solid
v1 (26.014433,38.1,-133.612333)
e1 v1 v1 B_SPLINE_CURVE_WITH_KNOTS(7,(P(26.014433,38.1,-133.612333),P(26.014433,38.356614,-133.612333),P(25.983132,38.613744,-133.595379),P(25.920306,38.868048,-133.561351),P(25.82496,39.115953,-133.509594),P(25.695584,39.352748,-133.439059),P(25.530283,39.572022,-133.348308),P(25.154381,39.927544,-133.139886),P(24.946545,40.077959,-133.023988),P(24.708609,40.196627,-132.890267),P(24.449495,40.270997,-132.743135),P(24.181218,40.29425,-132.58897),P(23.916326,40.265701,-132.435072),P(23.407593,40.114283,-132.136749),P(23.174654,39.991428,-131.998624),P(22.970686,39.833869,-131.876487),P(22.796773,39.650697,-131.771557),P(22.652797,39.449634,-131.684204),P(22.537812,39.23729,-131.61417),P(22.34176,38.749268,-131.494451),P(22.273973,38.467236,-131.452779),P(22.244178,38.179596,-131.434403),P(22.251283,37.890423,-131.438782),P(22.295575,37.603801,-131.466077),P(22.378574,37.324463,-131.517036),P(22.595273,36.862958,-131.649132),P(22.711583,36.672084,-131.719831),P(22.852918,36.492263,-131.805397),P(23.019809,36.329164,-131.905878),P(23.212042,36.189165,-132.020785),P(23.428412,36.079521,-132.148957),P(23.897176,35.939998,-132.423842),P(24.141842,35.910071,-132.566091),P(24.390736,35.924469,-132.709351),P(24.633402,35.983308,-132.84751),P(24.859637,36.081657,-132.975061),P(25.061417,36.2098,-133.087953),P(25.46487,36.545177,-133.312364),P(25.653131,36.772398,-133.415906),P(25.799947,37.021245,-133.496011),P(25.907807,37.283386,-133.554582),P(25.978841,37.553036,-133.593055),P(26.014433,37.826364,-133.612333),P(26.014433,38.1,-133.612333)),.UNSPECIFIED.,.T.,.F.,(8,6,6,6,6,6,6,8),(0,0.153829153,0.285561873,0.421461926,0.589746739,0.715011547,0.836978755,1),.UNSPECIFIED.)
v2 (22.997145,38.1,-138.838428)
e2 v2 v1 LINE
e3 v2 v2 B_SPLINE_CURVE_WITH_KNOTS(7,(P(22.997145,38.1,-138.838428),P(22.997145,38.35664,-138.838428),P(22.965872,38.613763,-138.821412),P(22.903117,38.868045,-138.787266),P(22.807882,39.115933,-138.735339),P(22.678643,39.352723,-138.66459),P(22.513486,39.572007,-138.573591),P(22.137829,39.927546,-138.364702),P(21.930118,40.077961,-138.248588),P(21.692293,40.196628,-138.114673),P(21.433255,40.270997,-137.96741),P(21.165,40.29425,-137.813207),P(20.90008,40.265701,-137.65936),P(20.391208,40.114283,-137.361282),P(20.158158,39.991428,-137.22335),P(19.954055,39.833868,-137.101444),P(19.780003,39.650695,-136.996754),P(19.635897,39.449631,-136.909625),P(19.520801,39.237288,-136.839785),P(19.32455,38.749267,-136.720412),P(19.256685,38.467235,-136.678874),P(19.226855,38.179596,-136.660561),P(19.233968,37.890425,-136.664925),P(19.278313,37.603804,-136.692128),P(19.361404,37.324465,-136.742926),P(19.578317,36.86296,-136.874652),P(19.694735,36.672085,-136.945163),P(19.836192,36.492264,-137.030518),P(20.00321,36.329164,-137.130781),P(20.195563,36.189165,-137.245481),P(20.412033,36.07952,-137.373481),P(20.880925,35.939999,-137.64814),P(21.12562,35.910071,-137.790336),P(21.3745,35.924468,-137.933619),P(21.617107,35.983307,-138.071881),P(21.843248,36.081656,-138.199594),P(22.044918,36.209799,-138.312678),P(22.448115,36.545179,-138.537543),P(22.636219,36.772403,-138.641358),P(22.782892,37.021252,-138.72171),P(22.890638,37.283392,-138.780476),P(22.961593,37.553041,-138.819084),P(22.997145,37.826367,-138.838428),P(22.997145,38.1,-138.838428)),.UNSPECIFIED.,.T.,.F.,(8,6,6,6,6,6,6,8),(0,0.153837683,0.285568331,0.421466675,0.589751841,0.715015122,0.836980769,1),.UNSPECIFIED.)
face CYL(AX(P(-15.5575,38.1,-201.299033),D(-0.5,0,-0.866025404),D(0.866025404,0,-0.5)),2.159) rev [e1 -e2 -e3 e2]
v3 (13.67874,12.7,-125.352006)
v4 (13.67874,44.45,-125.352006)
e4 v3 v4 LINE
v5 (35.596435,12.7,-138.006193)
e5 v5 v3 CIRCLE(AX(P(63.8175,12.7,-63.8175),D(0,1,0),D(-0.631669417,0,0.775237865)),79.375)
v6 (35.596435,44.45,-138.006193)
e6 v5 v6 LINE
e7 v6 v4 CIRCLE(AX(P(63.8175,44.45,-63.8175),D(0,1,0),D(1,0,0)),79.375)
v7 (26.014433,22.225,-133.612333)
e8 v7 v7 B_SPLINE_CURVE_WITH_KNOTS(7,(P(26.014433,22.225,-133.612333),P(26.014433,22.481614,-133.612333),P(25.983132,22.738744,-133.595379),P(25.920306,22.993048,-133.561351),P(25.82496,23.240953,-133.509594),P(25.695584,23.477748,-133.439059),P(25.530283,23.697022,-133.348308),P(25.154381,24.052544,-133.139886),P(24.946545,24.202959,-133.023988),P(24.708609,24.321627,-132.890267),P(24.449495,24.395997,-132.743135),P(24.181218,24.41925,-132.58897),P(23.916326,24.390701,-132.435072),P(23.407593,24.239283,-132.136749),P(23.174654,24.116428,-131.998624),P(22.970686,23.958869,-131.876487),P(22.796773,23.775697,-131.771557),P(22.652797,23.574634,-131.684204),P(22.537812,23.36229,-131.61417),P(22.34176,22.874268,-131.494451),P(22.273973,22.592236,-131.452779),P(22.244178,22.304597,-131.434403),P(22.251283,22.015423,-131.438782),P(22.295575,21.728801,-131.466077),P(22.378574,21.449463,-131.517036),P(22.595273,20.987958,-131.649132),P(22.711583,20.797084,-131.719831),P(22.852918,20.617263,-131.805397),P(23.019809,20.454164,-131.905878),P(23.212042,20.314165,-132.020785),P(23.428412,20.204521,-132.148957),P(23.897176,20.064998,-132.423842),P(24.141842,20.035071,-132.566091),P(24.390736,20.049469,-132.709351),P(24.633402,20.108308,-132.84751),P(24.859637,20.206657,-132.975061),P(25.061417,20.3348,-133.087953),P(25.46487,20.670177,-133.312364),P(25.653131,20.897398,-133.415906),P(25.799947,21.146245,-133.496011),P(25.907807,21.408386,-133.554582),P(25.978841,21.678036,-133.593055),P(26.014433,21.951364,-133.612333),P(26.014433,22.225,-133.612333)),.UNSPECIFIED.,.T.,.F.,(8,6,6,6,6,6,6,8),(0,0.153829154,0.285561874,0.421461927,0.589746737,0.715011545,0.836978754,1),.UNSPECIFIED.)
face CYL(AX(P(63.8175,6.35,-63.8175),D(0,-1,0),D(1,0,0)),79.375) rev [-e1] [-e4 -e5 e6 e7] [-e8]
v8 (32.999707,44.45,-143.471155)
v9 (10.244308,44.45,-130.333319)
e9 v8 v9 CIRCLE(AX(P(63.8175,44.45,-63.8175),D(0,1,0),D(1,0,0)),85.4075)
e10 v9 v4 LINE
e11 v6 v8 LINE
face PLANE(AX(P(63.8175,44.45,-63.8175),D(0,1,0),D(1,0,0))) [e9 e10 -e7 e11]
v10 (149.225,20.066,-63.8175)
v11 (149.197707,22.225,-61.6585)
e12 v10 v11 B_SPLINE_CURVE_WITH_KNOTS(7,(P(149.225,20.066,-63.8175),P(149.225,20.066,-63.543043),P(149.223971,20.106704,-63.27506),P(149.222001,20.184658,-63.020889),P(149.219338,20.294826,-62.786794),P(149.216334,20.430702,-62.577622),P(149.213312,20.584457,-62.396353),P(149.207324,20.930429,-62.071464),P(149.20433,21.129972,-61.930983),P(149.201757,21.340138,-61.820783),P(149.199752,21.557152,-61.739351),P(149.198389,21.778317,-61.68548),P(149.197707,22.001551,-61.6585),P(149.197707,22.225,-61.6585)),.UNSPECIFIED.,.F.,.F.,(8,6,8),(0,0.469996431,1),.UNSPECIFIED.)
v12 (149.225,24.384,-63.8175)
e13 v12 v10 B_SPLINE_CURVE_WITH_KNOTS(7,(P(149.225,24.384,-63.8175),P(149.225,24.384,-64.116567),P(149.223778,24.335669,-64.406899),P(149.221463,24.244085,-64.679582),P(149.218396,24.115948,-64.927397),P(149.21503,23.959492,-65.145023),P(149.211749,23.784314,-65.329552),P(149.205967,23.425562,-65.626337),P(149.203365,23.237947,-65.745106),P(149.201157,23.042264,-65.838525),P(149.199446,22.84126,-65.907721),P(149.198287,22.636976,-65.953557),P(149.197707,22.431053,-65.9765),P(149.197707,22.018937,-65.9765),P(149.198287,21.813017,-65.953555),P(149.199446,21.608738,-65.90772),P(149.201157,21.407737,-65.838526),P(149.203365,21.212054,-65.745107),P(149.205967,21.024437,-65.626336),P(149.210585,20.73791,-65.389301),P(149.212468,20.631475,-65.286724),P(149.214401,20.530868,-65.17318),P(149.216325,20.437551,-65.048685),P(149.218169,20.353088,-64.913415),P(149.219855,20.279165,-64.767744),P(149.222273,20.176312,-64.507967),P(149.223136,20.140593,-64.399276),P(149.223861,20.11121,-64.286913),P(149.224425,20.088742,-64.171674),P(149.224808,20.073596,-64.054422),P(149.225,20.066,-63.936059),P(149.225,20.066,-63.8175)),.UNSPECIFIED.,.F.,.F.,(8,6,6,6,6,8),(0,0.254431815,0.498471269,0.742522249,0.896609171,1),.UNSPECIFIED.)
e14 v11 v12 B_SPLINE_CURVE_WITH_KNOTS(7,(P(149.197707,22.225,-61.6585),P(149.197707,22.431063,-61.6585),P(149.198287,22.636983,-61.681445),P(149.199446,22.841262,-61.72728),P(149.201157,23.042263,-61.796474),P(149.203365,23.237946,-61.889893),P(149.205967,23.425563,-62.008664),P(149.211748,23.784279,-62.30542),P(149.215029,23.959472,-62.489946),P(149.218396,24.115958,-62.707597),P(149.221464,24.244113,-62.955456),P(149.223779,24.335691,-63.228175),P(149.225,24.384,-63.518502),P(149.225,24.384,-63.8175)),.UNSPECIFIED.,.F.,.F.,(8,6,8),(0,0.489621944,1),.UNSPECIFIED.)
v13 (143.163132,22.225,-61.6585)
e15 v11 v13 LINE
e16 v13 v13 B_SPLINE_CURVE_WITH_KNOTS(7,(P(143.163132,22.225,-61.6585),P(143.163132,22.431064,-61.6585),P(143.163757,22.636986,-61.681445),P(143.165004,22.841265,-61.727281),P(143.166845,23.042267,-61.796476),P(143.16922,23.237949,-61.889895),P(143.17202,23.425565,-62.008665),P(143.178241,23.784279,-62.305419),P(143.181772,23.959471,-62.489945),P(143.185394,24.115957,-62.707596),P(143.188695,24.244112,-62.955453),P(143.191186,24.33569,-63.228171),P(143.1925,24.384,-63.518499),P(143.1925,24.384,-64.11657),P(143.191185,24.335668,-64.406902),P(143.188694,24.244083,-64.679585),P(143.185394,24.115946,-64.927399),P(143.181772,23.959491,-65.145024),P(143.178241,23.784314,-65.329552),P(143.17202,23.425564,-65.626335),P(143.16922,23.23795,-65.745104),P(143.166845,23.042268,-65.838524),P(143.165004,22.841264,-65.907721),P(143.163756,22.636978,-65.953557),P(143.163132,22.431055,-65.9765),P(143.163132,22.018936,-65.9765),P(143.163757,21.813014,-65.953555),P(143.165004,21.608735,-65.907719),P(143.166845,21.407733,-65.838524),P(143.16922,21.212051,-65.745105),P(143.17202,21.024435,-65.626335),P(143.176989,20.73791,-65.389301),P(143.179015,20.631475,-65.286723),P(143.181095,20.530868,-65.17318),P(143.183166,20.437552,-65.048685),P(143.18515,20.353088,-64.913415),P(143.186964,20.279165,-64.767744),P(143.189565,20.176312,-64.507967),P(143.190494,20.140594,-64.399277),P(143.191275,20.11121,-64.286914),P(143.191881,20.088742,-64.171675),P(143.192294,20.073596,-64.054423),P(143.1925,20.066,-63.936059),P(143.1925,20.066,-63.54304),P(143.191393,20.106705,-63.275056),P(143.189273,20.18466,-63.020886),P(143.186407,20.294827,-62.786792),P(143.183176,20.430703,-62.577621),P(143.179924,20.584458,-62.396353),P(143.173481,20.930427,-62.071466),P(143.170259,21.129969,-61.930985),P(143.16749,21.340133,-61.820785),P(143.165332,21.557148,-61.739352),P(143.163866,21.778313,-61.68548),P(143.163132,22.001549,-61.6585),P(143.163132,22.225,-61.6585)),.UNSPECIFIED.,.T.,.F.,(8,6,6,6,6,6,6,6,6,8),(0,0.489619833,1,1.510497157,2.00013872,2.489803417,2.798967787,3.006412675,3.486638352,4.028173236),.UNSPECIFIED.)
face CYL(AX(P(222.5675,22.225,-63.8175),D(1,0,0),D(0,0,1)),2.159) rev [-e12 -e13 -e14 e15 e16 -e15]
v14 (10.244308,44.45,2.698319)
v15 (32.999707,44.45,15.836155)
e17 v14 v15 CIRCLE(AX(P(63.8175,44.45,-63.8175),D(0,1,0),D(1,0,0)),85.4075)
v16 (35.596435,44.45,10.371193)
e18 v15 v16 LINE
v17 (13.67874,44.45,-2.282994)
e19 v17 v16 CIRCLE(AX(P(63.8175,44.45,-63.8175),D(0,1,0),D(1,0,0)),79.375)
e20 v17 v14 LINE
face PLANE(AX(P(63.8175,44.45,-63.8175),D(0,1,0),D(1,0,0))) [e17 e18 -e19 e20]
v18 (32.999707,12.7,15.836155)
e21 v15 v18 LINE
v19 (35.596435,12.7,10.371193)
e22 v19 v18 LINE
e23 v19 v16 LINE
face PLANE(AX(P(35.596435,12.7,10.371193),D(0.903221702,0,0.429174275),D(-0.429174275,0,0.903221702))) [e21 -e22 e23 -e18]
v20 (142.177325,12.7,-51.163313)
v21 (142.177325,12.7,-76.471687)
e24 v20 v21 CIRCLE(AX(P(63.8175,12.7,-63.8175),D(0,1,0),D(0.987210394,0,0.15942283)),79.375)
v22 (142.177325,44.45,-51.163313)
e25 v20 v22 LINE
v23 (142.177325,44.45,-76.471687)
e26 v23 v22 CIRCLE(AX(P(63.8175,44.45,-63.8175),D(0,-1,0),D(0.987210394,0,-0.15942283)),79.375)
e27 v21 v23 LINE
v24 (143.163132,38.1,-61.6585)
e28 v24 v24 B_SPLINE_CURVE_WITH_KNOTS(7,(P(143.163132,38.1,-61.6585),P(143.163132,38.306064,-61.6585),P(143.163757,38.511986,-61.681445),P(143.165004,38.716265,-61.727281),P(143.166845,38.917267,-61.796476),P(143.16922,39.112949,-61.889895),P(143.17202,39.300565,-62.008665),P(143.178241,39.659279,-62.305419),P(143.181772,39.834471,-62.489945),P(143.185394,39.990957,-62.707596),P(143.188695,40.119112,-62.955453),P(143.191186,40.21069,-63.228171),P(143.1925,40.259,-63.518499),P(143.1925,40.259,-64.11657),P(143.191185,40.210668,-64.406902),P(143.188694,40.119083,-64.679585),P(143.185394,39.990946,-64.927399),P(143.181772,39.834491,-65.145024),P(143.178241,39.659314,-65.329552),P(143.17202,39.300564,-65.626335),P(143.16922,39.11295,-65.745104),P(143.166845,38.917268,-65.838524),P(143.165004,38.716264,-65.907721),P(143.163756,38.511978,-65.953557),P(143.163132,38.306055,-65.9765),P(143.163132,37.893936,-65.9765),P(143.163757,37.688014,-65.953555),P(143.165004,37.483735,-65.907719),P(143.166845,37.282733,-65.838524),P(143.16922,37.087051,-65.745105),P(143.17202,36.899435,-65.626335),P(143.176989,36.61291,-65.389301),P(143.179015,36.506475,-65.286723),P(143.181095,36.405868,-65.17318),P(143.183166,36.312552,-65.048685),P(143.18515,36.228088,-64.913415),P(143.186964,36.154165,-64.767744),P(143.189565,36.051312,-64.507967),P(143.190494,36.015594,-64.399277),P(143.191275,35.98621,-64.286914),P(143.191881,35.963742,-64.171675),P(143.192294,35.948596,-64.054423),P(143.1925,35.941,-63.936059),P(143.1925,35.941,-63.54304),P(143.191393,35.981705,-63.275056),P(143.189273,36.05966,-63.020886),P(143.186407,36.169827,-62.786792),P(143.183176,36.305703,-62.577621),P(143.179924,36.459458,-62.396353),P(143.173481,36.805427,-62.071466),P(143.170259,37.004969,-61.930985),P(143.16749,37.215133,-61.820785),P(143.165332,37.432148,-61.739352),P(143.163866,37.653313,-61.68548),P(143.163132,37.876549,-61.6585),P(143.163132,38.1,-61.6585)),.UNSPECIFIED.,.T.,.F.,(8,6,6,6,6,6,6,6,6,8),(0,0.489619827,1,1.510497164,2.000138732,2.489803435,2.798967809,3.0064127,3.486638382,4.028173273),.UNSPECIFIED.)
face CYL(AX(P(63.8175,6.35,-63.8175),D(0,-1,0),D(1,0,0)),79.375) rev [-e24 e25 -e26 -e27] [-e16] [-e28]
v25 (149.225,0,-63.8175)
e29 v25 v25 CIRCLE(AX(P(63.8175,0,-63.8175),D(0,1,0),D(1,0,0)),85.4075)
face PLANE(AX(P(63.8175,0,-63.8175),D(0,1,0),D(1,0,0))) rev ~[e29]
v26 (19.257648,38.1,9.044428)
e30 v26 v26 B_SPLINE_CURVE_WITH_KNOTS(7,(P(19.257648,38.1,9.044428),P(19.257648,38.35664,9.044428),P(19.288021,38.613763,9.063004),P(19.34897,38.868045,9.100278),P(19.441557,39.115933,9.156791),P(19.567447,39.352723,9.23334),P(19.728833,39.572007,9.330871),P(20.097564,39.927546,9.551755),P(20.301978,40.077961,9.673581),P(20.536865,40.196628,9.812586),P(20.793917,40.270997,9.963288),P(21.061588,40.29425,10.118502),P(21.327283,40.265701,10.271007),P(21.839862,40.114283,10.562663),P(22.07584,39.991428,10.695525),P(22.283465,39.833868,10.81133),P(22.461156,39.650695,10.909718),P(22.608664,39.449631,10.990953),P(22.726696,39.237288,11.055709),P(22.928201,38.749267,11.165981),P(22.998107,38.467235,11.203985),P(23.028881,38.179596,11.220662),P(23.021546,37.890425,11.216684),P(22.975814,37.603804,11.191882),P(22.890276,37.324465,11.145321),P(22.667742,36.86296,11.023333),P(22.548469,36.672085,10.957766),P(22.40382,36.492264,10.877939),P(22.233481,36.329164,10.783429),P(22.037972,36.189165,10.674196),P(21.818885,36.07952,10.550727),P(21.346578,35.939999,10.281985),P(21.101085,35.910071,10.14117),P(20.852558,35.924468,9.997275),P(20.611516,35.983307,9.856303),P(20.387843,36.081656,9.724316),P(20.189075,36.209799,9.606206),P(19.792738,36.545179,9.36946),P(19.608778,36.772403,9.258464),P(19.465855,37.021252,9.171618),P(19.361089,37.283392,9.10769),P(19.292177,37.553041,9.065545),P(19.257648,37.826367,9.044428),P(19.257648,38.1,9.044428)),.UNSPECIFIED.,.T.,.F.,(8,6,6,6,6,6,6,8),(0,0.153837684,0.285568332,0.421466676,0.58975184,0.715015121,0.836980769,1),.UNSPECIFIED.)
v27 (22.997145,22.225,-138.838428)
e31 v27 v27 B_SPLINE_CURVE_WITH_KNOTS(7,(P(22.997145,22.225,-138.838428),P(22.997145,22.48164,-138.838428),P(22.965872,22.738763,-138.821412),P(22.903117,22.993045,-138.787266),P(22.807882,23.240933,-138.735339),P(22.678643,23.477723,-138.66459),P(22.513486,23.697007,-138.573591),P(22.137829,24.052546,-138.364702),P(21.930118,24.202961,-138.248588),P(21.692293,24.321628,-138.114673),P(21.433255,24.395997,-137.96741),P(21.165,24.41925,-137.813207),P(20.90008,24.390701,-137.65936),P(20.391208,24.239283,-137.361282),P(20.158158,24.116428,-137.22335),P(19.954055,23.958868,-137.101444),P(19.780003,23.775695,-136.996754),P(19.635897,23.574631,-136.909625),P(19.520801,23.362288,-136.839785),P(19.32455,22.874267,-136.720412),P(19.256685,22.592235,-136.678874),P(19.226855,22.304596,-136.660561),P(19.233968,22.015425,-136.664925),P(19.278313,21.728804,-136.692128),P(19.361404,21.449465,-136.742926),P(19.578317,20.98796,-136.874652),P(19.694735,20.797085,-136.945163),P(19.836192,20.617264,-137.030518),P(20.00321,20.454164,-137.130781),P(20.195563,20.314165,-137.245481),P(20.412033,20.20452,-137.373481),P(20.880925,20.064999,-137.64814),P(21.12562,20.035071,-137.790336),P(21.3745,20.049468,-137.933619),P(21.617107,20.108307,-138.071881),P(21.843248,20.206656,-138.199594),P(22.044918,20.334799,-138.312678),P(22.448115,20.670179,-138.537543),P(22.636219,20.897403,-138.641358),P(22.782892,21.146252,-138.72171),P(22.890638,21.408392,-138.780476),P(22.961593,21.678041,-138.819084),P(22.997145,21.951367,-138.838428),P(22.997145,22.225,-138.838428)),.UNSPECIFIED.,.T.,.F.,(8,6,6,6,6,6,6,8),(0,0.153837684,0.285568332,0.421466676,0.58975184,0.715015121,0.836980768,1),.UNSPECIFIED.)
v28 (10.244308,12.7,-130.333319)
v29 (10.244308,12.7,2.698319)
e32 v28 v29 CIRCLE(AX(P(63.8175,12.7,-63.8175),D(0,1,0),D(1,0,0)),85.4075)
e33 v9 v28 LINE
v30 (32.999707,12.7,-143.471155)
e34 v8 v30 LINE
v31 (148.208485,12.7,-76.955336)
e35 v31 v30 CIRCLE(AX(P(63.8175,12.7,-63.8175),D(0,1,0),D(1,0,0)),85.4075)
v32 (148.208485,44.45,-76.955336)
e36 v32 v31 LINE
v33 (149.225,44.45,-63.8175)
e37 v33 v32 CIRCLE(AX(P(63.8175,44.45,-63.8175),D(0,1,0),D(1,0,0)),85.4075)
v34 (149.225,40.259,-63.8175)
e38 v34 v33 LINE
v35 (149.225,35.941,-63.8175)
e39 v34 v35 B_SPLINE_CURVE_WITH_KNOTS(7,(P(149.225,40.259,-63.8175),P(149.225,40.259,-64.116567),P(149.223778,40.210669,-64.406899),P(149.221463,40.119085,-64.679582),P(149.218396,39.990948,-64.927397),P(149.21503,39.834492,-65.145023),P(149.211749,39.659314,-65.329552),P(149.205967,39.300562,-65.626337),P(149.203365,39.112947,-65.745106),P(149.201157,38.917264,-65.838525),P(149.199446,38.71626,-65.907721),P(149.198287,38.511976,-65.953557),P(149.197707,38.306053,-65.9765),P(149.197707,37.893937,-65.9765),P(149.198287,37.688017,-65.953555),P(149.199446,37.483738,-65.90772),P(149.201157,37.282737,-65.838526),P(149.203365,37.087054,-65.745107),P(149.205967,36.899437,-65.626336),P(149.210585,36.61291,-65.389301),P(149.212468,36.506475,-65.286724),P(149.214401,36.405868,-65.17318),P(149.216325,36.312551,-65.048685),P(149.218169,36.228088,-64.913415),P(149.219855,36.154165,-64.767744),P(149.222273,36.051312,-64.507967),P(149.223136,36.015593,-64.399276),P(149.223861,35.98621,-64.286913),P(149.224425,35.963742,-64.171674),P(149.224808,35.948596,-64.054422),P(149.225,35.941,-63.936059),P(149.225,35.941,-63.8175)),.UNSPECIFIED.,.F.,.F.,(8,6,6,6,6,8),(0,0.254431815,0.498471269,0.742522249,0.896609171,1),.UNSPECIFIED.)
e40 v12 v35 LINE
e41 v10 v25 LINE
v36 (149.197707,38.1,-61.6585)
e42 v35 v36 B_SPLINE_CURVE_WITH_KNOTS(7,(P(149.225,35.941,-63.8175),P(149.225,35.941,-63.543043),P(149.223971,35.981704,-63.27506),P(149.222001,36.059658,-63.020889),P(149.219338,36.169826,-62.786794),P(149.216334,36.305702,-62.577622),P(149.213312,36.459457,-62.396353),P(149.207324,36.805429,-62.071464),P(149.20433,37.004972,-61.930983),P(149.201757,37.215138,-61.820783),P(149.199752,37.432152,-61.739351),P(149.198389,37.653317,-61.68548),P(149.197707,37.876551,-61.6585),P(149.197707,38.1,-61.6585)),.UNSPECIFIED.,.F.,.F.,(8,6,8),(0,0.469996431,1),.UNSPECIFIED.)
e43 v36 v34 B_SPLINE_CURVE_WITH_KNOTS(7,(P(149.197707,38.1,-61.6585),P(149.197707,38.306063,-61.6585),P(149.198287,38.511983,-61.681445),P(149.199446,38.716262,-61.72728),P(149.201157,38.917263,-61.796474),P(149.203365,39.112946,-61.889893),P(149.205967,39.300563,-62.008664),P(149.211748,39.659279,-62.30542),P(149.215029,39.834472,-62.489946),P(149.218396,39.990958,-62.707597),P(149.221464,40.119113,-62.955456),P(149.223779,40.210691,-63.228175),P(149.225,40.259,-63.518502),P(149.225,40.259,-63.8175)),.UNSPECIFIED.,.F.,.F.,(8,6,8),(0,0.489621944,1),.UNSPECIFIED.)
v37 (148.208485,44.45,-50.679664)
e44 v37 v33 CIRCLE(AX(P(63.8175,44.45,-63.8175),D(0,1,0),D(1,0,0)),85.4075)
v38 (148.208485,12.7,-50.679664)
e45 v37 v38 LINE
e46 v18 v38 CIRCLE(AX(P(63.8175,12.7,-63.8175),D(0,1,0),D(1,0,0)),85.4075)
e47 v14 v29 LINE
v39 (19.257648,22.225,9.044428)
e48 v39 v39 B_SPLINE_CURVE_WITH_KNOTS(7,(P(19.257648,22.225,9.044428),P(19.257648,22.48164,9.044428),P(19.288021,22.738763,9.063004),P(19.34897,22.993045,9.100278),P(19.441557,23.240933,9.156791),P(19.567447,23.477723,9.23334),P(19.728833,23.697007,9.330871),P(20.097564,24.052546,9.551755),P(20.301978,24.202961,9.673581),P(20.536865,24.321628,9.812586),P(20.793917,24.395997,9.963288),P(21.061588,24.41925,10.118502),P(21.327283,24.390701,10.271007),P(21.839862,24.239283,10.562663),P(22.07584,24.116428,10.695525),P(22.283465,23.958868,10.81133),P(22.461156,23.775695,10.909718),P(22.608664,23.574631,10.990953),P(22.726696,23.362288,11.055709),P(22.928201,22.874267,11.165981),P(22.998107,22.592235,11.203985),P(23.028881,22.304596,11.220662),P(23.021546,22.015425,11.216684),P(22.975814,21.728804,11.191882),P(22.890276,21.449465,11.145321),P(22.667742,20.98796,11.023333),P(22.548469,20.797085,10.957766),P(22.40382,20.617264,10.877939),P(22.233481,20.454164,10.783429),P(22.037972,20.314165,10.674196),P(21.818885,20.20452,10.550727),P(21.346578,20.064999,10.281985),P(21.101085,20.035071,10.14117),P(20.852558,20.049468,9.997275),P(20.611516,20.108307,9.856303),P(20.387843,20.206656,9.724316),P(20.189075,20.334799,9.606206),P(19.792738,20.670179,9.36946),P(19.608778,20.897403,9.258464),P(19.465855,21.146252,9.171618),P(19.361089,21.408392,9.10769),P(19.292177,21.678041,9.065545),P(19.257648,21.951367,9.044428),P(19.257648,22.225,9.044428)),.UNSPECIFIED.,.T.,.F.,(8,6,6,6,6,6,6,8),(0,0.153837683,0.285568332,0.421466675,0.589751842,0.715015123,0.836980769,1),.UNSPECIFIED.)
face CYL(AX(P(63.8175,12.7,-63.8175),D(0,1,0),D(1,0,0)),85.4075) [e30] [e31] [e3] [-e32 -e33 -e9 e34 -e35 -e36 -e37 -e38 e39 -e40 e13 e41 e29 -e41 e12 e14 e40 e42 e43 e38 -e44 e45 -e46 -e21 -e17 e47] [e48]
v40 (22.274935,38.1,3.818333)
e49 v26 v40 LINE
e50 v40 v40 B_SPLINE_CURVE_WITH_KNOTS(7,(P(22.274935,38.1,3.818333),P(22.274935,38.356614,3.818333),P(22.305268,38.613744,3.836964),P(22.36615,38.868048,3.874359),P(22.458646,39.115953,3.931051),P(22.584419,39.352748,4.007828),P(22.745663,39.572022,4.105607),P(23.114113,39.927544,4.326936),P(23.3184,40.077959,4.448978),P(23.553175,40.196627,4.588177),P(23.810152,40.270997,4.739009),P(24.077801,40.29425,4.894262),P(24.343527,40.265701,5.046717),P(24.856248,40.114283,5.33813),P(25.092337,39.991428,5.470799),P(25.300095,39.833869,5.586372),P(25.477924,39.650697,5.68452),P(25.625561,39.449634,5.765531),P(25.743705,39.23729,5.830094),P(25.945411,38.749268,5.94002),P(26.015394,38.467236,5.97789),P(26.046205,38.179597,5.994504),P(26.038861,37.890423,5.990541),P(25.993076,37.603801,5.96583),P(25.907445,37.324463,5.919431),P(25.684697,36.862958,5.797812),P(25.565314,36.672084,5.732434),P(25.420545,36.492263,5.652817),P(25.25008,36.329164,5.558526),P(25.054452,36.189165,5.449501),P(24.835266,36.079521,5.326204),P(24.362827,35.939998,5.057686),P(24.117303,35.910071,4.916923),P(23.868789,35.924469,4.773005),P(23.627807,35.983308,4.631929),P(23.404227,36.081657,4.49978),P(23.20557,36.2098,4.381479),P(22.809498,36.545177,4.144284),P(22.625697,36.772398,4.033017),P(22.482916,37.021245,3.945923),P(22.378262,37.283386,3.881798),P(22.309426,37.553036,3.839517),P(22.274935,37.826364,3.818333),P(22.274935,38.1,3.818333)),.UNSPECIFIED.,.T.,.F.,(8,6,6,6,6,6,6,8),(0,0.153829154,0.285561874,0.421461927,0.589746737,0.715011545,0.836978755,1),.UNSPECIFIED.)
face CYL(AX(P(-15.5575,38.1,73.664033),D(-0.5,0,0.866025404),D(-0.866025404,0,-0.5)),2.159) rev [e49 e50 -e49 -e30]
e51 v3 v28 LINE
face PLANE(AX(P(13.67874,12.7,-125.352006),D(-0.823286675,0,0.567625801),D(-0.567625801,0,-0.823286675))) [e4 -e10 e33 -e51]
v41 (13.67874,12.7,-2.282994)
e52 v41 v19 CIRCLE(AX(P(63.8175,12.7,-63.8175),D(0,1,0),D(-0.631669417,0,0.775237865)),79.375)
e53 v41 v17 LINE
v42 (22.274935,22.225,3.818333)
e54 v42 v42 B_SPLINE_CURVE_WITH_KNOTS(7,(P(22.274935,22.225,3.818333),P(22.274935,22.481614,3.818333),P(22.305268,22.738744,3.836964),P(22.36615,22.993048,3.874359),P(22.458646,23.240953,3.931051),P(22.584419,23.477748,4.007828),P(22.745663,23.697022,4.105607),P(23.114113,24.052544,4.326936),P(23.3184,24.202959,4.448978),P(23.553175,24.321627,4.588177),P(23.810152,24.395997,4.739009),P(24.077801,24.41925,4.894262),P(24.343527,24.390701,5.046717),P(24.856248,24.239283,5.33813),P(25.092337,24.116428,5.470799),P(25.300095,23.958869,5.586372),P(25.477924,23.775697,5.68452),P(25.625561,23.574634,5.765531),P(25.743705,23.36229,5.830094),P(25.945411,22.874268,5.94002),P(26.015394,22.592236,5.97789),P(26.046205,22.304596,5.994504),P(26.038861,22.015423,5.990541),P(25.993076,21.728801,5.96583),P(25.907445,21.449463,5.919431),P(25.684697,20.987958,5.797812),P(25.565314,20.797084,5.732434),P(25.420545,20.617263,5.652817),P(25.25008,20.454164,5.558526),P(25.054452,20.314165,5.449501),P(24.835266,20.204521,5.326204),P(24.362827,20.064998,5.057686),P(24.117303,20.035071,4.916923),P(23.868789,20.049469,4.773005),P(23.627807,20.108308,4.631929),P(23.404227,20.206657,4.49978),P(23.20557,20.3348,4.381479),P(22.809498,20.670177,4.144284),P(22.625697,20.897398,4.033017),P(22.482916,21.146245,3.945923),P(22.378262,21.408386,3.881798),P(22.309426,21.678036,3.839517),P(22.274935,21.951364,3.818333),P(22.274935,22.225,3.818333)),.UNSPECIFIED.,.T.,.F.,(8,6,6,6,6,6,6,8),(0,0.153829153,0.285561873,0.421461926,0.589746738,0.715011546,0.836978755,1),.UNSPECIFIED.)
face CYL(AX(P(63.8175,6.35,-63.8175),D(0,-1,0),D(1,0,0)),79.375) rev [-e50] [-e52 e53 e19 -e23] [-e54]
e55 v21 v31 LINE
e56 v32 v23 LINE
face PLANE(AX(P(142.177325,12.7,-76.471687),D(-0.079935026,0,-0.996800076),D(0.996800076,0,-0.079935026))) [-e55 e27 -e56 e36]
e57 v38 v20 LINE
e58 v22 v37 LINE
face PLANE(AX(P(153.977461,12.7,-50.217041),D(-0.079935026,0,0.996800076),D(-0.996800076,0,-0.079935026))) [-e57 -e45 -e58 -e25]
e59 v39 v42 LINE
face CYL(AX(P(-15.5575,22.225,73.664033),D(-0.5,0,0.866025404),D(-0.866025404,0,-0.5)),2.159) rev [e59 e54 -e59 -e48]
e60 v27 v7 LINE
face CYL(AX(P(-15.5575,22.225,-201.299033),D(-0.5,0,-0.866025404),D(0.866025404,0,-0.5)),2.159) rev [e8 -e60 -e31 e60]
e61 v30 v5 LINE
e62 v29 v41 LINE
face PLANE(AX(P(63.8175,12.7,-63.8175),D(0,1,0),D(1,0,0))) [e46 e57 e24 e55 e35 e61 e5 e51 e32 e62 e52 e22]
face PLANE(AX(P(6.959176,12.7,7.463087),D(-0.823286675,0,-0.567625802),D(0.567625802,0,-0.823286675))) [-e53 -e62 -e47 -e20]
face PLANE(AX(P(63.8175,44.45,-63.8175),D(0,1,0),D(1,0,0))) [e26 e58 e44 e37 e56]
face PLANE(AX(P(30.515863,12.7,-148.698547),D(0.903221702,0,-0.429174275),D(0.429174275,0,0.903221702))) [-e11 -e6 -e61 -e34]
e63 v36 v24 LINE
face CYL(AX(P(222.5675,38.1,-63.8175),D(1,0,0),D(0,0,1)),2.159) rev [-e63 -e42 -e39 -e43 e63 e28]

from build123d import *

# Parameters (mm, degrees)
SKETCH1_W           = 127.635
SKETCH1_H           = 127.635
MAIN_PLATE_DEPTH    = 12.7
SKETCH9_R           = 85.725
BOSS_EXTRUDE1_DEPTH = 12.7
SKETCH10_R          = 95.25
SKETCH10_R_2        = 85.4075
CUT_EXTRUDE1_DEPTH  = 167.64
SKETCH18_R          = 85.4075
SKETCH18_R_2        = 79.375
BOSS_EXTRUDE2_DEPTH = 38.1
SKETCH15_R          = 2.159
CUT_EXTRUDE3_DEPTH  = 88.9
CIRPATTERN1_COUNT   = 3
SKETCH23_R          = 79.375
CUT_EXTRUDE6_DEPTH  = 111.600000066


with BuildPart() as part:
    # Sketch1 → Main Plate (new body)
    with BuildSketch(Plane(origin=(0, 0, 0), x_dir=(1, 0, 0), z_dir=(0, 1, 0))):
        with Locations((63.8175, 63.8175)):
            Rectangle(SKETCH1_W, SKETCH1_H)
    extrude(amount=MAIN_PLATE_DEPTH)

    # Sketch9 → Boss-Extrude1 (add)
    with BuildSketch(Plane(origin=(0, 12.7, 0), x_dir=(1, 0, 0), z_dir=(0, 1, 0))):
        with Locations((63.8175, 63.8175)):
            Circle(SKETCH9_R)
    extrude(amount=-BOSS_EXTRUDE1_DEPTH)

    # Sketch10 → Cut-Extrude1 (cut)
    with BuildSketch(Plane(origin=(0, 12.7, 0), x_dir=(1, 0, 0), z_dir=(0, 1, 0))):
        with Locations((63.8175, 63.8175)):
            Circle(SKETCH10_R)
        with Locations((63.8175, 63.8175)):
            Circle(SKETCH10_R_2, mode=Mode.SUBTRACT)
    extrude(amount=-CUT_EXTRUDE1_DEPTH, mode=Mode.SUBTRACT)

    # Sketch18 → Boss-Extrude2 (add)
    with BuildSketch(Plane(origin=(0, 6.35, 0), x_dir=(1, 0, 0), z_dir=(0, 1, 0))):
        with Locations((63.8175, 63.8175)):
            Circle(SKETCH18_R)
        with Locations((63.8175, 63.8175)):
            Circle(SKETCH18_R_2, mode=Mode.SUBTRACT)
    extrude(amount=BOSS_EXTRUDE2_DEPTH)

    # Sketch15 → Cut-Extrude3 (cut)
    with BuildSketch(Plane(origin=(166.221610148, 0, 178.614251028), x_dir=(-0.866025404, 0, -0.5), z_dir=(0.5, 0, -0.866025404))):
        with Locations((209.900436354, 22.225)):
            Circle(SKETCH15_R)
        with Locations((209.900436354, 38.1)):
            Circle(SKETCH15_R)
    cut_extrude3 = extrude(amount=CUT_EXTRUDE3_DEPTH, mode=Mode.SUBTRACT)

    # CirPattern1: Cut-Extrude3 ×3 about axis
    cirpattern1_axis = Axis((63.8175, -154.94, -63.8175), (0, 1, 0))
    for i in range(1, CIRPATTERN1_COUNT):
        add(cut_extrude3.rotate(cirpattern1_axis, i * 360 / CIRPATTERN1_COUNT), mode=Mode.SUBTRACT)

    # Sketch23 → Cut-Extrude6 (cut)
    with BuildSketch(Plane(origin=(0, 12.7, 0), x_dir=(1, 0, 0), z_dir=(0, 1, 0))):
        with Locations((63.8175, 63.8175)):
            Circle(SKETCH23_R)
        with BuildLine():
            Line((13.678739997, 125.352005526), (7.552270878, 134.237860218))
            Line((7.552270878, 134.237860218), (-19.267108419, 125.320629884))
            Line((-19.267108419, 125.320629884), (-48.79695837, 60.397770071))
            Line((-48.79695837, 60.397770071), (-9.884344094, 7.052469015))
            Line((-9.884344094, 7.052469015), (6.959175986, -7.46308736))
            Line((6.959175986, -7.46308736), (13.678739997, 2.282994474))
            ThreePointArc((13.678739997, 2.282994474), (-15.5575, 63.8175), (13.678739997, 125.352005526))
        make_face()
        with BuildLine():
            Line((142.177324996, 76.471687114), (152.935935453, 77.334437661))
            Line((152.935935453, 77.334437661), (158.623077101, 105.019316613))
            Line((158.623077101, 105.019316613), (117.163156193, 163.054346747))
            Line((117.163156193, 163.054346747), (51.508463168, 156.027684783))
            Line((51.508463168, 156.027684783), (30.515862556, 148.698546693))
            Line((30.515862556, 148.698546693), (35.596435007, 138.00619264))
            ThreePointArc((35.596435007, 138.00619264), (103.505, 132.558266425), (142.177324996, 76.471687114))
        make_face()
        with BuildLine():
            Line((35.596435007, -10.37119264), (30.964293669, -20.119797879))
            Line((30.964293669, -20.119797879), (52.096531318, -38.887446496))
            Line((52.096531318, -38.887446496), (123.086302178, -31.999616818))
            Line((123.086302178, -31.999616818), (149.828380926, 28.372346201))
            Line((149.828380926, 28.372346201), (153.977461458, 50.217040667))
            Line((153.977461458, 50.217040667), (142.177324996, 51.163312886))
            ThreePointArc((142.177324996, 51.163312886), (103.505, -4.923266425), (35.596435007, -10.37119264))
        make_face()
    extrude(amount=CUT_EXTRUDE6_DEPTH, mode=Mode.SUBTRACT)


solid = part.part
